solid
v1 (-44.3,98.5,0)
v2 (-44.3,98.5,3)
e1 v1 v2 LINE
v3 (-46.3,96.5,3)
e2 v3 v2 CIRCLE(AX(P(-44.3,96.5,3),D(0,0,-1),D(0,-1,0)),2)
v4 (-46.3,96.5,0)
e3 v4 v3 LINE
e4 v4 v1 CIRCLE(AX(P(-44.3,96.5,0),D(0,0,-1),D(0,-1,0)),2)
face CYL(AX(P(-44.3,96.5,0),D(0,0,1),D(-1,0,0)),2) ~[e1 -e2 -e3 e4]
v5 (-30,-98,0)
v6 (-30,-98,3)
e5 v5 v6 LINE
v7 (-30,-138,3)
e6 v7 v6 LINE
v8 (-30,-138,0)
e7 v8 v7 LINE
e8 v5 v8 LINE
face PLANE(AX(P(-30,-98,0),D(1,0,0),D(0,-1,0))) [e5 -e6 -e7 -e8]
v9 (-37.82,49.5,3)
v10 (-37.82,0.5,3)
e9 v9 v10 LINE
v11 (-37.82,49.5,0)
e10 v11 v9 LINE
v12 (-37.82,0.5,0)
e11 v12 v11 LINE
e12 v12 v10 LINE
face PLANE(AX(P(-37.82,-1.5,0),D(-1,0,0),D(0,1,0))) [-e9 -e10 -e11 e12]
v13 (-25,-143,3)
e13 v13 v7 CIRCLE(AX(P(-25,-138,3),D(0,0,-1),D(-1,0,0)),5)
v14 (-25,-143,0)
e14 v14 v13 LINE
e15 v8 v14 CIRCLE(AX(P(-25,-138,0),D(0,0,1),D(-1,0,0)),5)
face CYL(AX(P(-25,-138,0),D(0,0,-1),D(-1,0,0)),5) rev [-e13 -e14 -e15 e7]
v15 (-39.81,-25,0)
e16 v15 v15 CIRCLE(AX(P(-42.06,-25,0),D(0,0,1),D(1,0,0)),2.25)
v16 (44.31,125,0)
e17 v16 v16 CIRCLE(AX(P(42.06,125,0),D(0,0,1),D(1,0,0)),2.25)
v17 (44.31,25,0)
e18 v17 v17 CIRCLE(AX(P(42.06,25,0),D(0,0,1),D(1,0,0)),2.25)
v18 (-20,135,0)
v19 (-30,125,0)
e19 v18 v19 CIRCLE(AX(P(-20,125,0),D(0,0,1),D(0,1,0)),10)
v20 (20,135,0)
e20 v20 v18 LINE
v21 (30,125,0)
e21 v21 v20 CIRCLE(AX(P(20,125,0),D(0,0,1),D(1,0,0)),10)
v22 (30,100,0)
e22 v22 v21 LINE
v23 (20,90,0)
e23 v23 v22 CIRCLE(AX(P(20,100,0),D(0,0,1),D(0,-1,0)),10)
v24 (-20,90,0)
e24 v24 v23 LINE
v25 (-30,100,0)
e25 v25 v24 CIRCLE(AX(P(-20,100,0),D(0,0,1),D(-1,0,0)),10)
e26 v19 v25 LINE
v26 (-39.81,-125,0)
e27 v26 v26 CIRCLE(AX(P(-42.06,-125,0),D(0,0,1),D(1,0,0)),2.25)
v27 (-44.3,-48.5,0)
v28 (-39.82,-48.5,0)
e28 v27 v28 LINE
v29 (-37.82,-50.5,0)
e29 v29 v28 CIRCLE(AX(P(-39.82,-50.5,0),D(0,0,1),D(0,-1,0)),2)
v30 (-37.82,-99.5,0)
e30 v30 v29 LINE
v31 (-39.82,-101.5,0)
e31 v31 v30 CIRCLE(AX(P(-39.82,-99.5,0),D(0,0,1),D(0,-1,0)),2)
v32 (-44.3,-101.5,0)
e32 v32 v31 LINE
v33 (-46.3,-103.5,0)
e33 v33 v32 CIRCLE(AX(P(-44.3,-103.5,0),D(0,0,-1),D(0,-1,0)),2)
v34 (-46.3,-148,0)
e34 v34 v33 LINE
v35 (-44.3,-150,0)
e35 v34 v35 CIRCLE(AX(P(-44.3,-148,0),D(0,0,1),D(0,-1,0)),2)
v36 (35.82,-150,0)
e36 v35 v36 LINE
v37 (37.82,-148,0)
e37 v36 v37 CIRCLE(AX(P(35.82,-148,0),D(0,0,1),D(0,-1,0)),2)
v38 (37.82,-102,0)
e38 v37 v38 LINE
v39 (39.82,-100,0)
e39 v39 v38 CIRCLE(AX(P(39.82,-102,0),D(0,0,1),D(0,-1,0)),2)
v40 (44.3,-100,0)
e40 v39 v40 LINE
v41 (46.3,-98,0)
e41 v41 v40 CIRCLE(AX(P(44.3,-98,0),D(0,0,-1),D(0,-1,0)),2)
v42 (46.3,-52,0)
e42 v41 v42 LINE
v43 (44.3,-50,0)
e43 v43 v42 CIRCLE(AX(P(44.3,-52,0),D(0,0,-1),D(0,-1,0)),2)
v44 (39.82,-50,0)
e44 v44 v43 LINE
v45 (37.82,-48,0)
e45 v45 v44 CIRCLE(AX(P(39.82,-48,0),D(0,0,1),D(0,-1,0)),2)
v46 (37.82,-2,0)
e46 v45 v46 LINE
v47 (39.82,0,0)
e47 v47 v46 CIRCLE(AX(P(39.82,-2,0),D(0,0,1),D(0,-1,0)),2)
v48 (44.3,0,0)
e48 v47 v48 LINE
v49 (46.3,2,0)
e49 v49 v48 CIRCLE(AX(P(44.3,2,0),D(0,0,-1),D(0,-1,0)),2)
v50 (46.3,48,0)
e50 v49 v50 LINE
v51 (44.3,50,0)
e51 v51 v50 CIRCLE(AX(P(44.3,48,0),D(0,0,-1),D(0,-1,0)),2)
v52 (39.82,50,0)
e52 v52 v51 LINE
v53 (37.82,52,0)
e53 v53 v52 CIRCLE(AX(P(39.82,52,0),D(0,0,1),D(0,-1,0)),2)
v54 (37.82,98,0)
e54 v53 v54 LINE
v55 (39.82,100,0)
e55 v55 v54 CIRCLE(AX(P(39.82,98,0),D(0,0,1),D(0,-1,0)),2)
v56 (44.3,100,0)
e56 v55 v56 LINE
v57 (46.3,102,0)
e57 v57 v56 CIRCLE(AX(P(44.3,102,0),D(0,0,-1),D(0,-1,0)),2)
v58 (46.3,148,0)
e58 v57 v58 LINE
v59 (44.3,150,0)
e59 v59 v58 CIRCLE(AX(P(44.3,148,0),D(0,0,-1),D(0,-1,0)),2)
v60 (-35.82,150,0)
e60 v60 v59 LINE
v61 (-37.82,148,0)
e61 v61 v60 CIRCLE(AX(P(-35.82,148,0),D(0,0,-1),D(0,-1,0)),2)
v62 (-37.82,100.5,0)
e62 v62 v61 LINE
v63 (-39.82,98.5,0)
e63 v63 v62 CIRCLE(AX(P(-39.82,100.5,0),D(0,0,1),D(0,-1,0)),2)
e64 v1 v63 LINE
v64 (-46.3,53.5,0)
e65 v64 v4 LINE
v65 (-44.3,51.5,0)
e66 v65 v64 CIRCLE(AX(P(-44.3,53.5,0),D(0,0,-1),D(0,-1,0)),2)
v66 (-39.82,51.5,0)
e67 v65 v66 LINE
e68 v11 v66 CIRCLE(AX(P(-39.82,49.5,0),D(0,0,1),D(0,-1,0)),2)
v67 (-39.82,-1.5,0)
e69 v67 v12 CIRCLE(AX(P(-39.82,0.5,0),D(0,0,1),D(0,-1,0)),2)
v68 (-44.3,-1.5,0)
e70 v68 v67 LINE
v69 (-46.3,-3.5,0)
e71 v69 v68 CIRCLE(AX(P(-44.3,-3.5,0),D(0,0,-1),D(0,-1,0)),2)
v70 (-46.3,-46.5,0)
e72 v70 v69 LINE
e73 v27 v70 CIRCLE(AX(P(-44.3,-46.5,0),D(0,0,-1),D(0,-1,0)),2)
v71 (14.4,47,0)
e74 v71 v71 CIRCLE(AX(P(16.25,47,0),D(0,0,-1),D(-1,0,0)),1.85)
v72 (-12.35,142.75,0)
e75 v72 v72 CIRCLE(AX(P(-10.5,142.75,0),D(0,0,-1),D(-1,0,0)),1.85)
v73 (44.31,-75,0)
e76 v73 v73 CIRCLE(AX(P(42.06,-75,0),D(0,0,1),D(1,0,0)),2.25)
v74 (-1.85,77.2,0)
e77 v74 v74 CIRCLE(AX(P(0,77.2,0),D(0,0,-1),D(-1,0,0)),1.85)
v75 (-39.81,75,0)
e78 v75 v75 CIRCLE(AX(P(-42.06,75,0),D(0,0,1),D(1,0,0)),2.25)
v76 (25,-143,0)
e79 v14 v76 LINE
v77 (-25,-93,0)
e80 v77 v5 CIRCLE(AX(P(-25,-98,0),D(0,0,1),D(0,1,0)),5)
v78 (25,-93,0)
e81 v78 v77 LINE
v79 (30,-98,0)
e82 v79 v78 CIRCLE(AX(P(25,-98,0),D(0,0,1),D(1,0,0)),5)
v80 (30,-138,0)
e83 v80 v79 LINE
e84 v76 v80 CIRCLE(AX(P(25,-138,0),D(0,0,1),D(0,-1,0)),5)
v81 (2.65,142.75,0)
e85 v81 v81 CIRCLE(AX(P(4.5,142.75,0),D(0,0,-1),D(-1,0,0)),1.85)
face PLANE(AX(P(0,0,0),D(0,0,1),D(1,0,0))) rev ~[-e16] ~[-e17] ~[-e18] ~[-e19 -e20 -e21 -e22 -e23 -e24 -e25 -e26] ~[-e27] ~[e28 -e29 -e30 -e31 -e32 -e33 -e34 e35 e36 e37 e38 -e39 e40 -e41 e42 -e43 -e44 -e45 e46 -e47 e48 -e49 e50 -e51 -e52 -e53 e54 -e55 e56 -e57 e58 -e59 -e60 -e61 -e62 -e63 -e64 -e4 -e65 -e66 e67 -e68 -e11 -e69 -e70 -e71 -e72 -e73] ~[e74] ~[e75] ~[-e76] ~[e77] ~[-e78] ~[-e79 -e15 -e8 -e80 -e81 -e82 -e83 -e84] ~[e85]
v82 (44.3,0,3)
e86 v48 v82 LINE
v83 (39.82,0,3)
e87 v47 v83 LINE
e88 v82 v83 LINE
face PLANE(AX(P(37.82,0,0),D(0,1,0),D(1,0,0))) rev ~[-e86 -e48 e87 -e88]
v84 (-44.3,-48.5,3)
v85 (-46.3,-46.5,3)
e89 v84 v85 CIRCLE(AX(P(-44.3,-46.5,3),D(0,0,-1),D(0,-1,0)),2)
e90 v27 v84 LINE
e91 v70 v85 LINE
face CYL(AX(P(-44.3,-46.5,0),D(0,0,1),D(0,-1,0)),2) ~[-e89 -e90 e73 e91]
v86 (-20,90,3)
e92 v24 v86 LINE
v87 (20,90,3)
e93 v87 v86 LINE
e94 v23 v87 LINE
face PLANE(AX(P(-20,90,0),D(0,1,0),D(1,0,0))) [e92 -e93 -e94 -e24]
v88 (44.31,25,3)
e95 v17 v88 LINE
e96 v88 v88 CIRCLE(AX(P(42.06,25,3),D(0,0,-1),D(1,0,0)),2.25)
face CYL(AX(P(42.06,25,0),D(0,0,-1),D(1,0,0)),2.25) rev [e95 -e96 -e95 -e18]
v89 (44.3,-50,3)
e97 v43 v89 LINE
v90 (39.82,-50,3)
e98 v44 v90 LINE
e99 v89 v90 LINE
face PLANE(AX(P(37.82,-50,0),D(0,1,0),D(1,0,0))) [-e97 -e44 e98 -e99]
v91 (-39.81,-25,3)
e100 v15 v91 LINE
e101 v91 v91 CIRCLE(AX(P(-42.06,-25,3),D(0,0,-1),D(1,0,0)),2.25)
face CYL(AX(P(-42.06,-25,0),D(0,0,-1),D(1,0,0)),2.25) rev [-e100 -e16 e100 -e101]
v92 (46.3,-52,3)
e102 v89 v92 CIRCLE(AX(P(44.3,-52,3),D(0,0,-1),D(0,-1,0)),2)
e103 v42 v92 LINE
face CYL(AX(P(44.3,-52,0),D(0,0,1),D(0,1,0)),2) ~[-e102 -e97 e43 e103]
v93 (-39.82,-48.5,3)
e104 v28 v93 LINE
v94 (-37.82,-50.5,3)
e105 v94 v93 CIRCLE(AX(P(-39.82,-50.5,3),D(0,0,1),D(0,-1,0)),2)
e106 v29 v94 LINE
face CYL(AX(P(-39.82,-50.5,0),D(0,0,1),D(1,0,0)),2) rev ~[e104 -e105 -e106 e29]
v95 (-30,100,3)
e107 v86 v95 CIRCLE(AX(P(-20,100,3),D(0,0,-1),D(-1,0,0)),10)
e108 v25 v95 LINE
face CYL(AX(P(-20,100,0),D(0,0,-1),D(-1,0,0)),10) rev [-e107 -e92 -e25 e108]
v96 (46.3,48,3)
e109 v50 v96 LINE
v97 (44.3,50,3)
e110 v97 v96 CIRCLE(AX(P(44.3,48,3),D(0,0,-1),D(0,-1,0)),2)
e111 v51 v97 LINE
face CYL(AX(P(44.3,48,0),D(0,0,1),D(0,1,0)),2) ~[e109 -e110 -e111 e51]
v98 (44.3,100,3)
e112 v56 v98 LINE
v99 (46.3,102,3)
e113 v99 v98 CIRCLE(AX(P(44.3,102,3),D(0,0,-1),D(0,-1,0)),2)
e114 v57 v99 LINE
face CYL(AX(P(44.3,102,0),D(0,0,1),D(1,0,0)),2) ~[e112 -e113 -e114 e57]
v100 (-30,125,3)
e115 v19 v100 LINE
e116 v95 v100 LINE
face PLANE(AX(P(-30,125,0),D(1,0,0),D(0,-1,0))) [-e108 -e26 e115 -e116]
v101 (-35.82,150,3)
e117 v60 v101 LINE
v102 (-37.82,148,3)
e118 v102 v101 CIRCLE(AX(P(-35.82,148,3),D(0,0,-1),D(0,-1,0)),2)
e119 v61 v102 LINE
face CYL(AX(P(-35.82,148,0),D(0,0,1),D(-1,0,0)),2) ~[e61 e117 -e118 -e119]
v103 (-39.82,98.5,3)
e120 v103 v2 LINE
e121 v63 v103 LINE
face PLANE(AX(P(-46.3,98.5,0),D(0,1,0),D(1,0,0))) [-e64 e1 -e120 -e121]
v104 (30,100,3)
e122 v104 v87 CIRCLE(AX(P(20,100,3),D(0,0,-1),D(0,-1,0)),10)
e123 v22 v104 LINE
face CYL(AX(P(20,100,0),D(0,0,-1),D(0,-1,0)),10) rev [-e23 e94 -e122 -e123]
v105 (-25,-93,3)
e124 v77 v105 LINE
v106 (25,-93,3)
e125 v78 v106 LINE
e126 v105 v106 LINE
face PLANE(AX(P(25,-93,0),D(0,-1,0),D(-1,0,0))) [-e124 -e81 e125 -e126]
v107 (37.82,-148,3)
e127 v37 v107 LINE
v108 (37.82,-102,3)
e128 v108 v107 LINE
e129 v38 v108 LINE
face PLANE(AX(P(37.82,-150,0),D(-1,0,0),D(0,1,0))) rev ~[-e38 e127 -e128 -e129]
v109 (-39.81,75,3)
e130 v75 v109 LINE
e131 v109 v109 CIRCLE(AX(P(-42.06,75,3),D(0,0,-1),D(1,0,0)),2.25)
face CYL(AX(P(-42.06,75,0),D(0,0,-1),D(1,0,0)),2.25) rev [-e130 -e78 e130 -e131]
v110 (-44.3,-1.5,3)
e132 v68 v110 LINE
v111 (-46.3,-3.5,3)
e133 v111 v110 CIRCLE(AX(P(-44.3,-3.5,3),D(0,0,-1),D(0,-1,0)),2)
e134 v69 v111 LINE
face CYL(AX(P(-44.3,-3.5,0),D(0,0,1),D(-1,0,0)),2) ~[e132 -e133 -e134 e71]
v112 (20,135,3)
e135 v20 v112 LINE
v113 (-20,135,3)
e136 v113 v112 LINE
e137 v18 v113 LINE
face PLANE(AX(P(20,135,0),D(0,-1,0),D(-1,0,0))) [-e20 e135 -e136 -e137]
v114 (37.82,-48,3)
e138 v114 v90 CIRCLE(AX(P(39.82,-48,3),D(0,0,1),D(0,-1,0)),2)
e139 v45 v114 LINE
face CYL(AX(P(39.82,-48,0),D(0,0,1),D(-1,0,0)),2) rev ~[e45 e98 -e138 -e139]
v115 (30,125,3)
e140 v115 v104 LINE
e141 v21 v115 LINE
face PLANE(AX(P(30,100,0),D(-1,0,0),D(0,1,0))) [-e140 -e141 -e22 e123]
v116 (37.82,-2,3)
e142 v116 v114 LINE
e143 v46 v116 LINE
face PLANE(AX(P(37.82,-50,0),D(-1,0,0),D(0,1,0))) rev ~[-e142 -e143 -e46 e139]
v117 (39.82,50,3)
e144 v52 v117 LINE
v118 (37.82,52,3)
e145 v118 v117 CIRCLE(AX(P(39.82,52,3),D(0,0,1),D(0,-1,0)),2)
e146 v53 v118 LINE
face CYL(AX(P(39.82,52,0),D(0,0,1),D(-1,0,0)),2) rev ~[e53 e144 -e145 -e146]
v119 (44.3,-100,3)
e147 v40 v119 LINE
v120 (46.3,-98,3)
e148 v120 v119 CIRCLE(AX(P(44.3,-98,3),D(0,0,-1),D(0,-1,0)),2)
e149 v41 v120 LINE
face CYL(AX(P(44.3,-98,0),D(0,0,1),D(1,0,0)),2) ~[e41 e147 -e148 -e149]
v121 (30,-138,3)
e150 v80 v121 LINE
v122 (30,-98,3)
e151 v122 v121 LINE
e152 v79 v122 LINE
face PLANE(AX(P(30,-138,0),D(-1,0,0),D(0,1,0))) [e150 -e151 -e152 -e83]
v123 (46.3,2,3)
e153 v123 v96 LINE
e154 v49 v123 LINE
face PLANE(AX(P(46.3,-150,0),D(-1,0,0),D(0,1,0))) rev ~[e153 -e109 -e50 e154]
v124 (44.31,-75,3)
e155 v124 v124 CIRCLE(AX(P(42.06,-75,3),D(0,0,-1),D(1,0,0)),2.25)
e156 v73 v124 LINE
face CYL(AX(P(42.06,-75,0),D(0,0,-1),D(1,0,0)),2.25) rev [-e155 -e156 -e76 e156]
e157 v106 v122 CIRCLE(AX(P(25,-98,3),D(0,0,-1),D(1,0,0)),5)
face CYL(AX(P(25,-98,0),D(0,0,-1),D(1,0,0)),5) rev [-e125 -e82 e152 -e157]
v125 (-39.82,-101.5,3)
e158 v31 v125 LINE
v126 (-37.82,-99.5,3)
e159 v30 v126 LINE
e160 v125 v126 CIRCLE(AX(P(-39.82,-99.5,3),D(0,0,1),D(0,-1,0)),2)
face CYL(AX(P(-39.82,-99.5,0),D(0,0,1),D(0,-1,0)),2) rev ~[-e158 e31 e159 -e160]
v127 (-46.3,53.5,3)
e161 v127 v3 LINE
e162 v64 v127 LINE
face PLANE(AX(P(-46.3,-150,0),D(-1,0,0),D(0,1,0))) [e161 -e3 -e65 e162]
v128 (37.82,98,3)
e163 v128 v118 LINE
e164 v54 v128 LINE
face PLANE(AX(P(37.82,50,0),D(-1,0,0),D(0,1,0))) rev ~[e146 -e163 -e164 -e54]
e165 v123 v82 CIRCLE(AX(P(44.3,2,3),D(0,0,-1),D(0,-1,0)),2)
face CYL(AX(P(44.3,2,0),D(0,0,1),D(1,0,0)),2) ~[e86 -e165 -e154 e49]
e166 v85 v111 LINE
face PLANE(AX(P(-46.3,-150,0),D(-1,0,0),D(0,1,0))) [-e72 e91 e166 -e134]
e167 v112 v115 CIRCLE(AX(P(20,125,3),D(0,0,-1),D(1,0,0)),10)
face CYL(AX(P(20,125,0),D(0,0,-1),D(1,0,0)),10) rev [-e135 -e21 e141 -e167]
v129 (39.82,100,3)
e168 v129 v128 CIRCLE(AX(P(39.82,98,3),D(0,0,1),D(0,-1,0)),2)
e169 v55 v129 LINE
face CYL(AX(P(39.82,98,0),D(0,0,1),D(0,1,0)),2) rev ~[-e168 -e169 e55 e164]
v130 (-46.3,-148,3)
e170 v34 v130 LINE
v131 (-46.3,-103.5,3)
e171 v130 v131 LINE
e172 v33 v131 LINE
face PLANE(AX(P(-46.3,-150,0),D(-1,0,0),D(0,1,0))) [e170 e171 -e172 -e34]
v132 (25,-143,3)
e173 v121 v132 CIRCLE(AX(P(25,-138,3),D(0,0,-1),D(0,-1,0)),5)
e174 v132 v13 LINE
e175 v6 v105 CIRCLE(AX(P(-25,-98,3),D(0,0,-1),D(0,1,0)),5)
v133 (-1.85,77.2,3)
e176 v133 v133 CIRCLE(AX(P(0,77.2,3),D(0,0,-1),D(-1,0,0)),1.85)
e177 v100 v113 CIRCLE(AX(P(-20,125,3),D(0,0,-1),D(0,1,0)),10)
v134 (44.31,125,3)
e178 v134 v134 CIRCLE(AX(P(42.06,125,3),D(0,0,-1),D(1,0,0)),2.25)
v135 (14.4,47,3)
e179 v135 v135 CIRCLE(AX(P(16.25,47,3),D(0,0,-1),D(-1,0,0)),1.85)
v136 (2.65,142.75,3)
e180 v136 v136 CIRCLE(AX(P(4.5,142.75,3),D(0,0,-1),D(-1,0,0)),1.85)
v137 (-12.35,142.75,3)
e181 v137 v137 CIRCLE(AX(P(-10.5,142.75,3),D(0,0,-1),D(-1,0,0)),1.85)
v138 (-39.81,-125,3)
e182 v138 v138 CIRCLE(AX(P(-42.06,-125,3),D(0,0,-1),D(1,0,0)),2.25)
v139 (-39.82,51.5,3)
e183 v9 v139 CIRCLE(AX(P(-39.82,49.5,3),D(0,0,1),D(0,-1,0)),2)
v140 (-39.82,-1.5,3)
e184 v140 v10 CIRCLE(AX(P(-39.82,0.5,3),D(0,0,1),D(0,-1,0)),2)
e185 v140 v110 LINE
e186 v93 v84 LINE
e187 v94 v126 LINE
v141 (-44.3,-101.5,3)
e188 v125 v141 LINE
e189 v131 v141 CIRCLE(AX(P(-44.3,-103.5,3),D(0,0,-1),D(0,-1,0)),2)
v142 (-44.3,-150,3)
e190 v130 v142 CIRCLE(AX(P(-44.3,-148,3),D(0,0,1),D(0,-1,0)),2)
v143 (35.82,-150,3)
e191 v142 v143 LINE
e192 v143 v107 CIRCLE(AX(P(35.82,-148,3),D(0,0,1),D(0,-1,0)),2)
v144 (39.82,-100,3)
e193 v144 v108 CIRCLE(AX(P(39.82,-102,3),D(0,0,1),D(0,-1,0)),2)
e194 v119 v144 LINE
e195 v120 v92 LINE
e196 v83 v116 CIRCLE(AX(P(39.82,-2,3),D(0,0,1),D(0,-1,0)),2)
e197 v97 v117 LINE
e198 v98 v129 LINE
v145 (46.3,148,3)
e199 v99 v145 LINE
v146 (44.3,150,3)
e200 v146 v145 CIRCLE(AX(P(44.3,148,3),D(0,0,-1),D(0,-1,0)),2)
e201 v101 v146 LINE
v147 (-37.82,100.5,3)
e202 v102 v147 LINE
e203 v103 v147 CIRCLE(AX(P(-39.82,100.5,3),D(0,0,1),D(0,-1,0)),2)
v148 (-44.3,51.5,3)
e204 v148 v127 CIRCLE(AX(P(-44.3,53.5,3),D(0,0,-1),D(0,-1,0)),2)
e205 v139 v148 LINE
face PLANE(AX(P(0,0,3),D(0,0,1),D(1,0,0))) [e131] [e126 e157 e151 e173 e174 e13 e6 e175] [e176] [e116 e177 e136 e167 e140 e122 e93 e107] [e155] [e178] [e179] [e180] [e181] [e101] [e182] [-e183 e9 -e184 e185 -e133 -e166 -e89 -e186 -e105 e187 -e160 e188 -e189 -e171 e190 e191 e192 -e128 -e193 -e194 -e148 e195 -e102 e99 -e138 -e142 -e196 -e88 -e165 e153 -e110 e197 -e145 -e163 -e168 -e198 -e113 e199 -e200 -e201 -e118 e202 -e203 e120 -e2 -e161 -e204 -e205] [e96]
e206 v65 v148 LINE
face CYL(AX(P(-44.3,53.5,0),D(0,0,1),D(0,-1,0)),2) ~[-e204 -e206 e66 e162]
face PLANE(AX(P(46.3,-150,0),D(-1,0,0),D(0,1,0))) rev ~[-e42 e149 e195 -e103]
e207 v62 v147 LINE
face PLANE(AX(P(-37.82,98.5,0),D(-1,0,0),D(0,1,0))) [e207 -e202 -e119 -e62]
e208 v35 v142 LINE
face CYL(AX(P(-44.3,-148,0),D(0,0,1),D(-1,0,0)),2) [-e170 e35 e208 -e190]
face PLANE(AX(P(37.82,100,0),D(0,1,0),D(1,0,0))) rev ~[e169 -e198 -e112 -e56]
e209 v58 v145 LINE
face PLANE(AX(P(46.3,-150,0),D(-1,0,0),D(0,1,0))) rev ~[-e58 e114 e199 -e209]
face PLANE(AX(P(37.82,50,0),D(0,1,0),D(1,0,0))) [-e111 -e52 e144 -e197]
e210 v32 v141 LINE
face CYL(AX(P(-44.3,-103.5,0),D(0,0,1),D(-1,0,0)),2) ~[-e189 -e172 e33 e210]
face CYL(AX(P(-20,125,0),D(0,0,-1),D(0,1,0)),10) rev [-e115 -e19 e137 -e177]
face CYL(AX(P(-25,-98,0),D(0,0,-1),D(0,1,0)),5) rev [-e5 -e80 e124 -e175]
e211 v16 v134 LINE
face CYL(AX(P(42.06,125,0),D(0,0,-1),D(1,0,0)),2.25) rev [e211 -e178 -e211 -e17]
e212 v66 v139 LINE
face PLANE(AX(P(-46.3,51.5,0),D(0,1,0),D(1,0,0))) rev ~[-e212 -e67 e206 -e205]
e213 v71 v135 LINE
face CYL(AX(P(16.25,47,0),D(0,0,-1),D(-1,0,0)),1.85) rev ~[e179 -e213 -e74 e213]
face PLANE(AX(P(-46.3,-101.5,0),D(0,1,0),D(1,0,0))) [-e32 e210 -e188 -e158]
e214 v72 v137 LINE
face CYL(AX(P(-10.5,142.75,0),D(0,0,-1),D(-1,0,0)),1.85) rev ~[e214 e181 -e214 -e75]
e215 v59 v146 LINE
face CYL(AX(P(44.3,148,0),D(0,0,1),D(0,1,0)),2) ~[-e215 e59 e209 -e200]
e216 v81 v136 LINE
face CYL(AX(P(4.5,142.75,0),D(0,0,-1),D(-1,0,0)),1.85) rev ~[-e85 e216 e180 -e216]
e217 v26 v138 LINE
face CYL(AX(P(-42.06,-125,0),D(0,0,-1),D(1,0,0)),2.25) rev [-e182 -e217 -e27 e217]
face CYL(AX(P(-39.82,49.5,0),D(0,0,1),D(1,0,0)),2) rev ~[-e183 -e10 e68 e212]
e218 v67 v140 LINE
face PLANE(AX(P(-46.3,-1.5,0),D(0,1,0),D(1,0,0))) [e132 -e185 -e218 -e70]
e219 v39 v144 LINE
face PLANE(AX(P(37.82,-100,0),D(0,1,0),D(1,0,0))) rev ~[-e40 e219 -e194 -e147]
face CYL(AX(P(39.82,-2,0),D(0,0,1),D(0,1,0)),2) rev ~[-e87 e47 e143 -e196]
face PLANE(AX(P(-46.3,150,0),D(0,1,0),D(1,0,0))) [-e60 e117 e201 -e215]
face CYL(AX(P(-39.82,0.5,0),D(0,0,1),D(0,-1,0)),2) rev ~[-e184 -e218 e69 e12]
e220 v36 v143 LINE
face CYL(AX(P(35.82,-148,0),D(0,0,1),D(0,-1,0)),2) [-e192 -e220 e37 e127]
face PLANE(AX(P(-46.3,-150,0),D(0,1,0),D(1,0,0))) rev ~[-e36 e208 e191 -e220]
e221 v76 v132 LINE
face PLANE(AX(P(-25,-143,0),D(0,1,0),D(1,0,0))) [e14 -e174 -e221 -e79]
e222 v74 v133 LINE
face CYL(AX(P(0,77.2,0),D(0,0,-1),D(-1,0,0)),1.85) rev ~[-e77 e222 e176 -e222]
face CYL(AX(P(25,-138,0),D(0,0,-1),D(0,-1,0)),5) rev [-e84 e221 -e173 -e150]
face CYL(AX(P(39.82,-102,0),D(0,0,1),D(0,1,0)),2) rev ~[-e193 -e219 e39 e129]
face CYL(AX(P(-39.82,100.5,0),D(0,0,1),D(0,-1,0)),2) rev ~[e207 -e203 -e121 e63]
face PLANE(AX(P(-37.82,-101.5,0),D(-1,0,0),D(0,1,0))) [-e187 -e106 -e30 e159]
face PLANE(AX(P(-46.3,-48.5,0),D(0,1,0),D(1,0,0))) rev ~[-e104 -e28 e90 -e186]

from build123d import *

# Parameters (mm, degrees)
SKETCH1_W           = 92.6
SKETCH1_H           = 300
BOSS_EXTRUDE1_DEPTH = 3
SKETCH2_R           = 2.25
SKETCH2_W           = 8.48
SKETCH2_H           = 51.5
SKETCH2_H_2         = 50
SKETCH2_H_3         = 53
CUT_EXTRUDE1_DEPTH  = 10
FILLET1_R           = 2
CUT_EXTRUDE3_DEPTH  = 8.5
SKETCH5_R           = 1.85
CUT_EXTRUDE4_DEPTH  = 10
SKETCH6_R           = 1.85
CUT_EXTRUDE5_DEPTH  = 10


with BuildPart() as part:
    # Sketch1 → Boss-Extrude1 (new body)
    with BuildSketch(Plane.XY):
        Rectangle(SKETCH1_W, SKETCH1_H)
    extrude(amount=BOSS_EXTRUDE1_DEPTH)

    # Sketch2 → Cut-Extrude1 (cut)
    with BuildSketch(Plane.XY):
        with Locations((-42.06, 75)):
            Circle(SKETCH2_R)
        with Locations((42.06, 125)):
            Circle(SKETCH2_R)
        with Locations((42.06, 25)):
            Circle(SKETCH2_R)
        with Locations((42.06, -75)):
            Circle(SKETCH2_R)
        with Locations((-42.06, -25)):
            Circle(SKETCH2_R)
        with Locations((-42.06, -125)):
            Circle(SKETCH2_R)
        with Locations((-42.06, 124.25)):
            Rectangle(SKETCH2_W, SKETCH2_H)
        with Locations((42.06, 75)):
            Rectangle(SKETCH2_W, SKETCH2_H_2)
        with Locations((42.06, -25)):
            Rectangle(SKETCH2_W, SKETCH2_H_2)
        with Locations((-42.06, 25)):
            Rectangle(SKETCH2_W, SKETCH2_H_3)
        with Locations((-42.06, -75)):
            Rectangle(SKETCH2_W, SKETCH2_H_3)
        with Locations((42.06, -125)):
            Rectangle(SKETCH2_W, SKETCH2_H_2)
    extrude(amount=CUT_EXTRUDE1_DEPTH, mode=Mode.SUBTRACT)

    # Fillet1
    fillet1_edges = [part.edges().sort_by_distance(p)[0] for p in [
        (46.3, -100, 1.5),
        (37.82, -100, 1.5),
        (37.82, -150, 1.5),
        (46.3, 50, 1.5),
        (46.3, 100, 1.5),
        (37.82, 100, 1.5),
        (37.82, 50, 1.5),
        (-46.3, -48.5, 1.5),
        (-46.3, -101.5, 1.5),
        (-37.82, -101.5, 1.5),
        (-37.82, -48.5, 1.5),
        (37.82, 0, 1.5),
        (37.82, -50, 1.5),
        (46.3, -50, 1.5),
        (46.3, 0, 1.5),
        (46.3, 150, 1.5),
        (-46.3, 51.5, 1.5),
        (-46.3, -150, 1.5),
        (-46.3, -1.5, 1.5),
        (-37.82, -1.5, 1.5),
        (-37.82, 51.5, 1.5),
        (-46.3, 98.5, 1.5),
        (-37.82, 98.5, 1.5),
        (-37.82, 150, 1.5),
    ]]
    fillet(fillet1_edges, radius=FILLET1_R)

    # Sketch4 → Cut-Extrude3 (cut)
    with BuildSketch(Plane(origin=(0, 0, 0), x_dir=(-1, 0, 0), z_dir=(0, 0, -1))):
        with BuildLine():
            Line((20, 90), (-20, 90))
            ThreePointArc((-20, 90), (-27.071067812, 92.928932188), (-30, 100))
            Line((-30, 100), (-30, 125))
            ThreePointArc((-30, 125), (-27.071067812, 132.071067812), (-20, 135))
            Line((-20, 135), (20, 135))
            ThreePointArc((20, 135), (27.071067812, 132.071067812), (30, 125))
            Line((30, 125), (30, 100))
            ThreePointArc((30, 100), (27.071067812, 92.928932188), (20, 90))
        make_face()
        with BuildLine():
            Line((25, -143), (-25, -143))
            ThreePointArc((-25, -143), (-28.535533906, -141.535533906), (-30, -138))
            Line((-30, -138), (-30, -98))
            ThreePointArc((-30, -98), (-28.535533906, -94.464466094), (-25, -93))
            Line((-25, -93), (25, -93))
            ThreePointArc((25, -93), (28.535533906, -94.464466094), (30, -98))
            Line((30, -98), (30, -138))
            ThreePointArc((30, -138), (28.535533906, -141.535533906), (25, -143))
        make_face()
    extrude(amount=-CUT_EXTRUDE3_DEPTH, mode=Mode.SUBTRACT)

    # Sketch5 → Cut-Extrude4 (cut)
    with BuildSketch(Plane(origin=(0, 0, 0), x_dir=(-1, 0, 0), z_dir=(0, 0, -1))):
        with Locations((0, 77.2)):
            Circle(SKETCH5_R)
        with Locations((-16.25, 47)):
            Circle(SKETCH5_R)
    extrude(amount=-CUT_EXTRUDE4_DEPTH, mode=Mode.SUBTRACT)

    # Sketch6 → Cut-Extrude5 (cut)
    with BuildSketch(Plane(origin=(0, 0, 0), x_dir=(-1, 0, 0), z_dir=(0, 0, -1))):
        with Locations((-4.5, 142.75)):
            Circle(SKETCH6_R)
        with Locations((10.5, 142.75)):
            Circle(SKETCH6_R)
    extrude(amount=-CUT_EXTRUDE5_DEPTH, mode=Mode.SUBTRACT)


solid = part.part
